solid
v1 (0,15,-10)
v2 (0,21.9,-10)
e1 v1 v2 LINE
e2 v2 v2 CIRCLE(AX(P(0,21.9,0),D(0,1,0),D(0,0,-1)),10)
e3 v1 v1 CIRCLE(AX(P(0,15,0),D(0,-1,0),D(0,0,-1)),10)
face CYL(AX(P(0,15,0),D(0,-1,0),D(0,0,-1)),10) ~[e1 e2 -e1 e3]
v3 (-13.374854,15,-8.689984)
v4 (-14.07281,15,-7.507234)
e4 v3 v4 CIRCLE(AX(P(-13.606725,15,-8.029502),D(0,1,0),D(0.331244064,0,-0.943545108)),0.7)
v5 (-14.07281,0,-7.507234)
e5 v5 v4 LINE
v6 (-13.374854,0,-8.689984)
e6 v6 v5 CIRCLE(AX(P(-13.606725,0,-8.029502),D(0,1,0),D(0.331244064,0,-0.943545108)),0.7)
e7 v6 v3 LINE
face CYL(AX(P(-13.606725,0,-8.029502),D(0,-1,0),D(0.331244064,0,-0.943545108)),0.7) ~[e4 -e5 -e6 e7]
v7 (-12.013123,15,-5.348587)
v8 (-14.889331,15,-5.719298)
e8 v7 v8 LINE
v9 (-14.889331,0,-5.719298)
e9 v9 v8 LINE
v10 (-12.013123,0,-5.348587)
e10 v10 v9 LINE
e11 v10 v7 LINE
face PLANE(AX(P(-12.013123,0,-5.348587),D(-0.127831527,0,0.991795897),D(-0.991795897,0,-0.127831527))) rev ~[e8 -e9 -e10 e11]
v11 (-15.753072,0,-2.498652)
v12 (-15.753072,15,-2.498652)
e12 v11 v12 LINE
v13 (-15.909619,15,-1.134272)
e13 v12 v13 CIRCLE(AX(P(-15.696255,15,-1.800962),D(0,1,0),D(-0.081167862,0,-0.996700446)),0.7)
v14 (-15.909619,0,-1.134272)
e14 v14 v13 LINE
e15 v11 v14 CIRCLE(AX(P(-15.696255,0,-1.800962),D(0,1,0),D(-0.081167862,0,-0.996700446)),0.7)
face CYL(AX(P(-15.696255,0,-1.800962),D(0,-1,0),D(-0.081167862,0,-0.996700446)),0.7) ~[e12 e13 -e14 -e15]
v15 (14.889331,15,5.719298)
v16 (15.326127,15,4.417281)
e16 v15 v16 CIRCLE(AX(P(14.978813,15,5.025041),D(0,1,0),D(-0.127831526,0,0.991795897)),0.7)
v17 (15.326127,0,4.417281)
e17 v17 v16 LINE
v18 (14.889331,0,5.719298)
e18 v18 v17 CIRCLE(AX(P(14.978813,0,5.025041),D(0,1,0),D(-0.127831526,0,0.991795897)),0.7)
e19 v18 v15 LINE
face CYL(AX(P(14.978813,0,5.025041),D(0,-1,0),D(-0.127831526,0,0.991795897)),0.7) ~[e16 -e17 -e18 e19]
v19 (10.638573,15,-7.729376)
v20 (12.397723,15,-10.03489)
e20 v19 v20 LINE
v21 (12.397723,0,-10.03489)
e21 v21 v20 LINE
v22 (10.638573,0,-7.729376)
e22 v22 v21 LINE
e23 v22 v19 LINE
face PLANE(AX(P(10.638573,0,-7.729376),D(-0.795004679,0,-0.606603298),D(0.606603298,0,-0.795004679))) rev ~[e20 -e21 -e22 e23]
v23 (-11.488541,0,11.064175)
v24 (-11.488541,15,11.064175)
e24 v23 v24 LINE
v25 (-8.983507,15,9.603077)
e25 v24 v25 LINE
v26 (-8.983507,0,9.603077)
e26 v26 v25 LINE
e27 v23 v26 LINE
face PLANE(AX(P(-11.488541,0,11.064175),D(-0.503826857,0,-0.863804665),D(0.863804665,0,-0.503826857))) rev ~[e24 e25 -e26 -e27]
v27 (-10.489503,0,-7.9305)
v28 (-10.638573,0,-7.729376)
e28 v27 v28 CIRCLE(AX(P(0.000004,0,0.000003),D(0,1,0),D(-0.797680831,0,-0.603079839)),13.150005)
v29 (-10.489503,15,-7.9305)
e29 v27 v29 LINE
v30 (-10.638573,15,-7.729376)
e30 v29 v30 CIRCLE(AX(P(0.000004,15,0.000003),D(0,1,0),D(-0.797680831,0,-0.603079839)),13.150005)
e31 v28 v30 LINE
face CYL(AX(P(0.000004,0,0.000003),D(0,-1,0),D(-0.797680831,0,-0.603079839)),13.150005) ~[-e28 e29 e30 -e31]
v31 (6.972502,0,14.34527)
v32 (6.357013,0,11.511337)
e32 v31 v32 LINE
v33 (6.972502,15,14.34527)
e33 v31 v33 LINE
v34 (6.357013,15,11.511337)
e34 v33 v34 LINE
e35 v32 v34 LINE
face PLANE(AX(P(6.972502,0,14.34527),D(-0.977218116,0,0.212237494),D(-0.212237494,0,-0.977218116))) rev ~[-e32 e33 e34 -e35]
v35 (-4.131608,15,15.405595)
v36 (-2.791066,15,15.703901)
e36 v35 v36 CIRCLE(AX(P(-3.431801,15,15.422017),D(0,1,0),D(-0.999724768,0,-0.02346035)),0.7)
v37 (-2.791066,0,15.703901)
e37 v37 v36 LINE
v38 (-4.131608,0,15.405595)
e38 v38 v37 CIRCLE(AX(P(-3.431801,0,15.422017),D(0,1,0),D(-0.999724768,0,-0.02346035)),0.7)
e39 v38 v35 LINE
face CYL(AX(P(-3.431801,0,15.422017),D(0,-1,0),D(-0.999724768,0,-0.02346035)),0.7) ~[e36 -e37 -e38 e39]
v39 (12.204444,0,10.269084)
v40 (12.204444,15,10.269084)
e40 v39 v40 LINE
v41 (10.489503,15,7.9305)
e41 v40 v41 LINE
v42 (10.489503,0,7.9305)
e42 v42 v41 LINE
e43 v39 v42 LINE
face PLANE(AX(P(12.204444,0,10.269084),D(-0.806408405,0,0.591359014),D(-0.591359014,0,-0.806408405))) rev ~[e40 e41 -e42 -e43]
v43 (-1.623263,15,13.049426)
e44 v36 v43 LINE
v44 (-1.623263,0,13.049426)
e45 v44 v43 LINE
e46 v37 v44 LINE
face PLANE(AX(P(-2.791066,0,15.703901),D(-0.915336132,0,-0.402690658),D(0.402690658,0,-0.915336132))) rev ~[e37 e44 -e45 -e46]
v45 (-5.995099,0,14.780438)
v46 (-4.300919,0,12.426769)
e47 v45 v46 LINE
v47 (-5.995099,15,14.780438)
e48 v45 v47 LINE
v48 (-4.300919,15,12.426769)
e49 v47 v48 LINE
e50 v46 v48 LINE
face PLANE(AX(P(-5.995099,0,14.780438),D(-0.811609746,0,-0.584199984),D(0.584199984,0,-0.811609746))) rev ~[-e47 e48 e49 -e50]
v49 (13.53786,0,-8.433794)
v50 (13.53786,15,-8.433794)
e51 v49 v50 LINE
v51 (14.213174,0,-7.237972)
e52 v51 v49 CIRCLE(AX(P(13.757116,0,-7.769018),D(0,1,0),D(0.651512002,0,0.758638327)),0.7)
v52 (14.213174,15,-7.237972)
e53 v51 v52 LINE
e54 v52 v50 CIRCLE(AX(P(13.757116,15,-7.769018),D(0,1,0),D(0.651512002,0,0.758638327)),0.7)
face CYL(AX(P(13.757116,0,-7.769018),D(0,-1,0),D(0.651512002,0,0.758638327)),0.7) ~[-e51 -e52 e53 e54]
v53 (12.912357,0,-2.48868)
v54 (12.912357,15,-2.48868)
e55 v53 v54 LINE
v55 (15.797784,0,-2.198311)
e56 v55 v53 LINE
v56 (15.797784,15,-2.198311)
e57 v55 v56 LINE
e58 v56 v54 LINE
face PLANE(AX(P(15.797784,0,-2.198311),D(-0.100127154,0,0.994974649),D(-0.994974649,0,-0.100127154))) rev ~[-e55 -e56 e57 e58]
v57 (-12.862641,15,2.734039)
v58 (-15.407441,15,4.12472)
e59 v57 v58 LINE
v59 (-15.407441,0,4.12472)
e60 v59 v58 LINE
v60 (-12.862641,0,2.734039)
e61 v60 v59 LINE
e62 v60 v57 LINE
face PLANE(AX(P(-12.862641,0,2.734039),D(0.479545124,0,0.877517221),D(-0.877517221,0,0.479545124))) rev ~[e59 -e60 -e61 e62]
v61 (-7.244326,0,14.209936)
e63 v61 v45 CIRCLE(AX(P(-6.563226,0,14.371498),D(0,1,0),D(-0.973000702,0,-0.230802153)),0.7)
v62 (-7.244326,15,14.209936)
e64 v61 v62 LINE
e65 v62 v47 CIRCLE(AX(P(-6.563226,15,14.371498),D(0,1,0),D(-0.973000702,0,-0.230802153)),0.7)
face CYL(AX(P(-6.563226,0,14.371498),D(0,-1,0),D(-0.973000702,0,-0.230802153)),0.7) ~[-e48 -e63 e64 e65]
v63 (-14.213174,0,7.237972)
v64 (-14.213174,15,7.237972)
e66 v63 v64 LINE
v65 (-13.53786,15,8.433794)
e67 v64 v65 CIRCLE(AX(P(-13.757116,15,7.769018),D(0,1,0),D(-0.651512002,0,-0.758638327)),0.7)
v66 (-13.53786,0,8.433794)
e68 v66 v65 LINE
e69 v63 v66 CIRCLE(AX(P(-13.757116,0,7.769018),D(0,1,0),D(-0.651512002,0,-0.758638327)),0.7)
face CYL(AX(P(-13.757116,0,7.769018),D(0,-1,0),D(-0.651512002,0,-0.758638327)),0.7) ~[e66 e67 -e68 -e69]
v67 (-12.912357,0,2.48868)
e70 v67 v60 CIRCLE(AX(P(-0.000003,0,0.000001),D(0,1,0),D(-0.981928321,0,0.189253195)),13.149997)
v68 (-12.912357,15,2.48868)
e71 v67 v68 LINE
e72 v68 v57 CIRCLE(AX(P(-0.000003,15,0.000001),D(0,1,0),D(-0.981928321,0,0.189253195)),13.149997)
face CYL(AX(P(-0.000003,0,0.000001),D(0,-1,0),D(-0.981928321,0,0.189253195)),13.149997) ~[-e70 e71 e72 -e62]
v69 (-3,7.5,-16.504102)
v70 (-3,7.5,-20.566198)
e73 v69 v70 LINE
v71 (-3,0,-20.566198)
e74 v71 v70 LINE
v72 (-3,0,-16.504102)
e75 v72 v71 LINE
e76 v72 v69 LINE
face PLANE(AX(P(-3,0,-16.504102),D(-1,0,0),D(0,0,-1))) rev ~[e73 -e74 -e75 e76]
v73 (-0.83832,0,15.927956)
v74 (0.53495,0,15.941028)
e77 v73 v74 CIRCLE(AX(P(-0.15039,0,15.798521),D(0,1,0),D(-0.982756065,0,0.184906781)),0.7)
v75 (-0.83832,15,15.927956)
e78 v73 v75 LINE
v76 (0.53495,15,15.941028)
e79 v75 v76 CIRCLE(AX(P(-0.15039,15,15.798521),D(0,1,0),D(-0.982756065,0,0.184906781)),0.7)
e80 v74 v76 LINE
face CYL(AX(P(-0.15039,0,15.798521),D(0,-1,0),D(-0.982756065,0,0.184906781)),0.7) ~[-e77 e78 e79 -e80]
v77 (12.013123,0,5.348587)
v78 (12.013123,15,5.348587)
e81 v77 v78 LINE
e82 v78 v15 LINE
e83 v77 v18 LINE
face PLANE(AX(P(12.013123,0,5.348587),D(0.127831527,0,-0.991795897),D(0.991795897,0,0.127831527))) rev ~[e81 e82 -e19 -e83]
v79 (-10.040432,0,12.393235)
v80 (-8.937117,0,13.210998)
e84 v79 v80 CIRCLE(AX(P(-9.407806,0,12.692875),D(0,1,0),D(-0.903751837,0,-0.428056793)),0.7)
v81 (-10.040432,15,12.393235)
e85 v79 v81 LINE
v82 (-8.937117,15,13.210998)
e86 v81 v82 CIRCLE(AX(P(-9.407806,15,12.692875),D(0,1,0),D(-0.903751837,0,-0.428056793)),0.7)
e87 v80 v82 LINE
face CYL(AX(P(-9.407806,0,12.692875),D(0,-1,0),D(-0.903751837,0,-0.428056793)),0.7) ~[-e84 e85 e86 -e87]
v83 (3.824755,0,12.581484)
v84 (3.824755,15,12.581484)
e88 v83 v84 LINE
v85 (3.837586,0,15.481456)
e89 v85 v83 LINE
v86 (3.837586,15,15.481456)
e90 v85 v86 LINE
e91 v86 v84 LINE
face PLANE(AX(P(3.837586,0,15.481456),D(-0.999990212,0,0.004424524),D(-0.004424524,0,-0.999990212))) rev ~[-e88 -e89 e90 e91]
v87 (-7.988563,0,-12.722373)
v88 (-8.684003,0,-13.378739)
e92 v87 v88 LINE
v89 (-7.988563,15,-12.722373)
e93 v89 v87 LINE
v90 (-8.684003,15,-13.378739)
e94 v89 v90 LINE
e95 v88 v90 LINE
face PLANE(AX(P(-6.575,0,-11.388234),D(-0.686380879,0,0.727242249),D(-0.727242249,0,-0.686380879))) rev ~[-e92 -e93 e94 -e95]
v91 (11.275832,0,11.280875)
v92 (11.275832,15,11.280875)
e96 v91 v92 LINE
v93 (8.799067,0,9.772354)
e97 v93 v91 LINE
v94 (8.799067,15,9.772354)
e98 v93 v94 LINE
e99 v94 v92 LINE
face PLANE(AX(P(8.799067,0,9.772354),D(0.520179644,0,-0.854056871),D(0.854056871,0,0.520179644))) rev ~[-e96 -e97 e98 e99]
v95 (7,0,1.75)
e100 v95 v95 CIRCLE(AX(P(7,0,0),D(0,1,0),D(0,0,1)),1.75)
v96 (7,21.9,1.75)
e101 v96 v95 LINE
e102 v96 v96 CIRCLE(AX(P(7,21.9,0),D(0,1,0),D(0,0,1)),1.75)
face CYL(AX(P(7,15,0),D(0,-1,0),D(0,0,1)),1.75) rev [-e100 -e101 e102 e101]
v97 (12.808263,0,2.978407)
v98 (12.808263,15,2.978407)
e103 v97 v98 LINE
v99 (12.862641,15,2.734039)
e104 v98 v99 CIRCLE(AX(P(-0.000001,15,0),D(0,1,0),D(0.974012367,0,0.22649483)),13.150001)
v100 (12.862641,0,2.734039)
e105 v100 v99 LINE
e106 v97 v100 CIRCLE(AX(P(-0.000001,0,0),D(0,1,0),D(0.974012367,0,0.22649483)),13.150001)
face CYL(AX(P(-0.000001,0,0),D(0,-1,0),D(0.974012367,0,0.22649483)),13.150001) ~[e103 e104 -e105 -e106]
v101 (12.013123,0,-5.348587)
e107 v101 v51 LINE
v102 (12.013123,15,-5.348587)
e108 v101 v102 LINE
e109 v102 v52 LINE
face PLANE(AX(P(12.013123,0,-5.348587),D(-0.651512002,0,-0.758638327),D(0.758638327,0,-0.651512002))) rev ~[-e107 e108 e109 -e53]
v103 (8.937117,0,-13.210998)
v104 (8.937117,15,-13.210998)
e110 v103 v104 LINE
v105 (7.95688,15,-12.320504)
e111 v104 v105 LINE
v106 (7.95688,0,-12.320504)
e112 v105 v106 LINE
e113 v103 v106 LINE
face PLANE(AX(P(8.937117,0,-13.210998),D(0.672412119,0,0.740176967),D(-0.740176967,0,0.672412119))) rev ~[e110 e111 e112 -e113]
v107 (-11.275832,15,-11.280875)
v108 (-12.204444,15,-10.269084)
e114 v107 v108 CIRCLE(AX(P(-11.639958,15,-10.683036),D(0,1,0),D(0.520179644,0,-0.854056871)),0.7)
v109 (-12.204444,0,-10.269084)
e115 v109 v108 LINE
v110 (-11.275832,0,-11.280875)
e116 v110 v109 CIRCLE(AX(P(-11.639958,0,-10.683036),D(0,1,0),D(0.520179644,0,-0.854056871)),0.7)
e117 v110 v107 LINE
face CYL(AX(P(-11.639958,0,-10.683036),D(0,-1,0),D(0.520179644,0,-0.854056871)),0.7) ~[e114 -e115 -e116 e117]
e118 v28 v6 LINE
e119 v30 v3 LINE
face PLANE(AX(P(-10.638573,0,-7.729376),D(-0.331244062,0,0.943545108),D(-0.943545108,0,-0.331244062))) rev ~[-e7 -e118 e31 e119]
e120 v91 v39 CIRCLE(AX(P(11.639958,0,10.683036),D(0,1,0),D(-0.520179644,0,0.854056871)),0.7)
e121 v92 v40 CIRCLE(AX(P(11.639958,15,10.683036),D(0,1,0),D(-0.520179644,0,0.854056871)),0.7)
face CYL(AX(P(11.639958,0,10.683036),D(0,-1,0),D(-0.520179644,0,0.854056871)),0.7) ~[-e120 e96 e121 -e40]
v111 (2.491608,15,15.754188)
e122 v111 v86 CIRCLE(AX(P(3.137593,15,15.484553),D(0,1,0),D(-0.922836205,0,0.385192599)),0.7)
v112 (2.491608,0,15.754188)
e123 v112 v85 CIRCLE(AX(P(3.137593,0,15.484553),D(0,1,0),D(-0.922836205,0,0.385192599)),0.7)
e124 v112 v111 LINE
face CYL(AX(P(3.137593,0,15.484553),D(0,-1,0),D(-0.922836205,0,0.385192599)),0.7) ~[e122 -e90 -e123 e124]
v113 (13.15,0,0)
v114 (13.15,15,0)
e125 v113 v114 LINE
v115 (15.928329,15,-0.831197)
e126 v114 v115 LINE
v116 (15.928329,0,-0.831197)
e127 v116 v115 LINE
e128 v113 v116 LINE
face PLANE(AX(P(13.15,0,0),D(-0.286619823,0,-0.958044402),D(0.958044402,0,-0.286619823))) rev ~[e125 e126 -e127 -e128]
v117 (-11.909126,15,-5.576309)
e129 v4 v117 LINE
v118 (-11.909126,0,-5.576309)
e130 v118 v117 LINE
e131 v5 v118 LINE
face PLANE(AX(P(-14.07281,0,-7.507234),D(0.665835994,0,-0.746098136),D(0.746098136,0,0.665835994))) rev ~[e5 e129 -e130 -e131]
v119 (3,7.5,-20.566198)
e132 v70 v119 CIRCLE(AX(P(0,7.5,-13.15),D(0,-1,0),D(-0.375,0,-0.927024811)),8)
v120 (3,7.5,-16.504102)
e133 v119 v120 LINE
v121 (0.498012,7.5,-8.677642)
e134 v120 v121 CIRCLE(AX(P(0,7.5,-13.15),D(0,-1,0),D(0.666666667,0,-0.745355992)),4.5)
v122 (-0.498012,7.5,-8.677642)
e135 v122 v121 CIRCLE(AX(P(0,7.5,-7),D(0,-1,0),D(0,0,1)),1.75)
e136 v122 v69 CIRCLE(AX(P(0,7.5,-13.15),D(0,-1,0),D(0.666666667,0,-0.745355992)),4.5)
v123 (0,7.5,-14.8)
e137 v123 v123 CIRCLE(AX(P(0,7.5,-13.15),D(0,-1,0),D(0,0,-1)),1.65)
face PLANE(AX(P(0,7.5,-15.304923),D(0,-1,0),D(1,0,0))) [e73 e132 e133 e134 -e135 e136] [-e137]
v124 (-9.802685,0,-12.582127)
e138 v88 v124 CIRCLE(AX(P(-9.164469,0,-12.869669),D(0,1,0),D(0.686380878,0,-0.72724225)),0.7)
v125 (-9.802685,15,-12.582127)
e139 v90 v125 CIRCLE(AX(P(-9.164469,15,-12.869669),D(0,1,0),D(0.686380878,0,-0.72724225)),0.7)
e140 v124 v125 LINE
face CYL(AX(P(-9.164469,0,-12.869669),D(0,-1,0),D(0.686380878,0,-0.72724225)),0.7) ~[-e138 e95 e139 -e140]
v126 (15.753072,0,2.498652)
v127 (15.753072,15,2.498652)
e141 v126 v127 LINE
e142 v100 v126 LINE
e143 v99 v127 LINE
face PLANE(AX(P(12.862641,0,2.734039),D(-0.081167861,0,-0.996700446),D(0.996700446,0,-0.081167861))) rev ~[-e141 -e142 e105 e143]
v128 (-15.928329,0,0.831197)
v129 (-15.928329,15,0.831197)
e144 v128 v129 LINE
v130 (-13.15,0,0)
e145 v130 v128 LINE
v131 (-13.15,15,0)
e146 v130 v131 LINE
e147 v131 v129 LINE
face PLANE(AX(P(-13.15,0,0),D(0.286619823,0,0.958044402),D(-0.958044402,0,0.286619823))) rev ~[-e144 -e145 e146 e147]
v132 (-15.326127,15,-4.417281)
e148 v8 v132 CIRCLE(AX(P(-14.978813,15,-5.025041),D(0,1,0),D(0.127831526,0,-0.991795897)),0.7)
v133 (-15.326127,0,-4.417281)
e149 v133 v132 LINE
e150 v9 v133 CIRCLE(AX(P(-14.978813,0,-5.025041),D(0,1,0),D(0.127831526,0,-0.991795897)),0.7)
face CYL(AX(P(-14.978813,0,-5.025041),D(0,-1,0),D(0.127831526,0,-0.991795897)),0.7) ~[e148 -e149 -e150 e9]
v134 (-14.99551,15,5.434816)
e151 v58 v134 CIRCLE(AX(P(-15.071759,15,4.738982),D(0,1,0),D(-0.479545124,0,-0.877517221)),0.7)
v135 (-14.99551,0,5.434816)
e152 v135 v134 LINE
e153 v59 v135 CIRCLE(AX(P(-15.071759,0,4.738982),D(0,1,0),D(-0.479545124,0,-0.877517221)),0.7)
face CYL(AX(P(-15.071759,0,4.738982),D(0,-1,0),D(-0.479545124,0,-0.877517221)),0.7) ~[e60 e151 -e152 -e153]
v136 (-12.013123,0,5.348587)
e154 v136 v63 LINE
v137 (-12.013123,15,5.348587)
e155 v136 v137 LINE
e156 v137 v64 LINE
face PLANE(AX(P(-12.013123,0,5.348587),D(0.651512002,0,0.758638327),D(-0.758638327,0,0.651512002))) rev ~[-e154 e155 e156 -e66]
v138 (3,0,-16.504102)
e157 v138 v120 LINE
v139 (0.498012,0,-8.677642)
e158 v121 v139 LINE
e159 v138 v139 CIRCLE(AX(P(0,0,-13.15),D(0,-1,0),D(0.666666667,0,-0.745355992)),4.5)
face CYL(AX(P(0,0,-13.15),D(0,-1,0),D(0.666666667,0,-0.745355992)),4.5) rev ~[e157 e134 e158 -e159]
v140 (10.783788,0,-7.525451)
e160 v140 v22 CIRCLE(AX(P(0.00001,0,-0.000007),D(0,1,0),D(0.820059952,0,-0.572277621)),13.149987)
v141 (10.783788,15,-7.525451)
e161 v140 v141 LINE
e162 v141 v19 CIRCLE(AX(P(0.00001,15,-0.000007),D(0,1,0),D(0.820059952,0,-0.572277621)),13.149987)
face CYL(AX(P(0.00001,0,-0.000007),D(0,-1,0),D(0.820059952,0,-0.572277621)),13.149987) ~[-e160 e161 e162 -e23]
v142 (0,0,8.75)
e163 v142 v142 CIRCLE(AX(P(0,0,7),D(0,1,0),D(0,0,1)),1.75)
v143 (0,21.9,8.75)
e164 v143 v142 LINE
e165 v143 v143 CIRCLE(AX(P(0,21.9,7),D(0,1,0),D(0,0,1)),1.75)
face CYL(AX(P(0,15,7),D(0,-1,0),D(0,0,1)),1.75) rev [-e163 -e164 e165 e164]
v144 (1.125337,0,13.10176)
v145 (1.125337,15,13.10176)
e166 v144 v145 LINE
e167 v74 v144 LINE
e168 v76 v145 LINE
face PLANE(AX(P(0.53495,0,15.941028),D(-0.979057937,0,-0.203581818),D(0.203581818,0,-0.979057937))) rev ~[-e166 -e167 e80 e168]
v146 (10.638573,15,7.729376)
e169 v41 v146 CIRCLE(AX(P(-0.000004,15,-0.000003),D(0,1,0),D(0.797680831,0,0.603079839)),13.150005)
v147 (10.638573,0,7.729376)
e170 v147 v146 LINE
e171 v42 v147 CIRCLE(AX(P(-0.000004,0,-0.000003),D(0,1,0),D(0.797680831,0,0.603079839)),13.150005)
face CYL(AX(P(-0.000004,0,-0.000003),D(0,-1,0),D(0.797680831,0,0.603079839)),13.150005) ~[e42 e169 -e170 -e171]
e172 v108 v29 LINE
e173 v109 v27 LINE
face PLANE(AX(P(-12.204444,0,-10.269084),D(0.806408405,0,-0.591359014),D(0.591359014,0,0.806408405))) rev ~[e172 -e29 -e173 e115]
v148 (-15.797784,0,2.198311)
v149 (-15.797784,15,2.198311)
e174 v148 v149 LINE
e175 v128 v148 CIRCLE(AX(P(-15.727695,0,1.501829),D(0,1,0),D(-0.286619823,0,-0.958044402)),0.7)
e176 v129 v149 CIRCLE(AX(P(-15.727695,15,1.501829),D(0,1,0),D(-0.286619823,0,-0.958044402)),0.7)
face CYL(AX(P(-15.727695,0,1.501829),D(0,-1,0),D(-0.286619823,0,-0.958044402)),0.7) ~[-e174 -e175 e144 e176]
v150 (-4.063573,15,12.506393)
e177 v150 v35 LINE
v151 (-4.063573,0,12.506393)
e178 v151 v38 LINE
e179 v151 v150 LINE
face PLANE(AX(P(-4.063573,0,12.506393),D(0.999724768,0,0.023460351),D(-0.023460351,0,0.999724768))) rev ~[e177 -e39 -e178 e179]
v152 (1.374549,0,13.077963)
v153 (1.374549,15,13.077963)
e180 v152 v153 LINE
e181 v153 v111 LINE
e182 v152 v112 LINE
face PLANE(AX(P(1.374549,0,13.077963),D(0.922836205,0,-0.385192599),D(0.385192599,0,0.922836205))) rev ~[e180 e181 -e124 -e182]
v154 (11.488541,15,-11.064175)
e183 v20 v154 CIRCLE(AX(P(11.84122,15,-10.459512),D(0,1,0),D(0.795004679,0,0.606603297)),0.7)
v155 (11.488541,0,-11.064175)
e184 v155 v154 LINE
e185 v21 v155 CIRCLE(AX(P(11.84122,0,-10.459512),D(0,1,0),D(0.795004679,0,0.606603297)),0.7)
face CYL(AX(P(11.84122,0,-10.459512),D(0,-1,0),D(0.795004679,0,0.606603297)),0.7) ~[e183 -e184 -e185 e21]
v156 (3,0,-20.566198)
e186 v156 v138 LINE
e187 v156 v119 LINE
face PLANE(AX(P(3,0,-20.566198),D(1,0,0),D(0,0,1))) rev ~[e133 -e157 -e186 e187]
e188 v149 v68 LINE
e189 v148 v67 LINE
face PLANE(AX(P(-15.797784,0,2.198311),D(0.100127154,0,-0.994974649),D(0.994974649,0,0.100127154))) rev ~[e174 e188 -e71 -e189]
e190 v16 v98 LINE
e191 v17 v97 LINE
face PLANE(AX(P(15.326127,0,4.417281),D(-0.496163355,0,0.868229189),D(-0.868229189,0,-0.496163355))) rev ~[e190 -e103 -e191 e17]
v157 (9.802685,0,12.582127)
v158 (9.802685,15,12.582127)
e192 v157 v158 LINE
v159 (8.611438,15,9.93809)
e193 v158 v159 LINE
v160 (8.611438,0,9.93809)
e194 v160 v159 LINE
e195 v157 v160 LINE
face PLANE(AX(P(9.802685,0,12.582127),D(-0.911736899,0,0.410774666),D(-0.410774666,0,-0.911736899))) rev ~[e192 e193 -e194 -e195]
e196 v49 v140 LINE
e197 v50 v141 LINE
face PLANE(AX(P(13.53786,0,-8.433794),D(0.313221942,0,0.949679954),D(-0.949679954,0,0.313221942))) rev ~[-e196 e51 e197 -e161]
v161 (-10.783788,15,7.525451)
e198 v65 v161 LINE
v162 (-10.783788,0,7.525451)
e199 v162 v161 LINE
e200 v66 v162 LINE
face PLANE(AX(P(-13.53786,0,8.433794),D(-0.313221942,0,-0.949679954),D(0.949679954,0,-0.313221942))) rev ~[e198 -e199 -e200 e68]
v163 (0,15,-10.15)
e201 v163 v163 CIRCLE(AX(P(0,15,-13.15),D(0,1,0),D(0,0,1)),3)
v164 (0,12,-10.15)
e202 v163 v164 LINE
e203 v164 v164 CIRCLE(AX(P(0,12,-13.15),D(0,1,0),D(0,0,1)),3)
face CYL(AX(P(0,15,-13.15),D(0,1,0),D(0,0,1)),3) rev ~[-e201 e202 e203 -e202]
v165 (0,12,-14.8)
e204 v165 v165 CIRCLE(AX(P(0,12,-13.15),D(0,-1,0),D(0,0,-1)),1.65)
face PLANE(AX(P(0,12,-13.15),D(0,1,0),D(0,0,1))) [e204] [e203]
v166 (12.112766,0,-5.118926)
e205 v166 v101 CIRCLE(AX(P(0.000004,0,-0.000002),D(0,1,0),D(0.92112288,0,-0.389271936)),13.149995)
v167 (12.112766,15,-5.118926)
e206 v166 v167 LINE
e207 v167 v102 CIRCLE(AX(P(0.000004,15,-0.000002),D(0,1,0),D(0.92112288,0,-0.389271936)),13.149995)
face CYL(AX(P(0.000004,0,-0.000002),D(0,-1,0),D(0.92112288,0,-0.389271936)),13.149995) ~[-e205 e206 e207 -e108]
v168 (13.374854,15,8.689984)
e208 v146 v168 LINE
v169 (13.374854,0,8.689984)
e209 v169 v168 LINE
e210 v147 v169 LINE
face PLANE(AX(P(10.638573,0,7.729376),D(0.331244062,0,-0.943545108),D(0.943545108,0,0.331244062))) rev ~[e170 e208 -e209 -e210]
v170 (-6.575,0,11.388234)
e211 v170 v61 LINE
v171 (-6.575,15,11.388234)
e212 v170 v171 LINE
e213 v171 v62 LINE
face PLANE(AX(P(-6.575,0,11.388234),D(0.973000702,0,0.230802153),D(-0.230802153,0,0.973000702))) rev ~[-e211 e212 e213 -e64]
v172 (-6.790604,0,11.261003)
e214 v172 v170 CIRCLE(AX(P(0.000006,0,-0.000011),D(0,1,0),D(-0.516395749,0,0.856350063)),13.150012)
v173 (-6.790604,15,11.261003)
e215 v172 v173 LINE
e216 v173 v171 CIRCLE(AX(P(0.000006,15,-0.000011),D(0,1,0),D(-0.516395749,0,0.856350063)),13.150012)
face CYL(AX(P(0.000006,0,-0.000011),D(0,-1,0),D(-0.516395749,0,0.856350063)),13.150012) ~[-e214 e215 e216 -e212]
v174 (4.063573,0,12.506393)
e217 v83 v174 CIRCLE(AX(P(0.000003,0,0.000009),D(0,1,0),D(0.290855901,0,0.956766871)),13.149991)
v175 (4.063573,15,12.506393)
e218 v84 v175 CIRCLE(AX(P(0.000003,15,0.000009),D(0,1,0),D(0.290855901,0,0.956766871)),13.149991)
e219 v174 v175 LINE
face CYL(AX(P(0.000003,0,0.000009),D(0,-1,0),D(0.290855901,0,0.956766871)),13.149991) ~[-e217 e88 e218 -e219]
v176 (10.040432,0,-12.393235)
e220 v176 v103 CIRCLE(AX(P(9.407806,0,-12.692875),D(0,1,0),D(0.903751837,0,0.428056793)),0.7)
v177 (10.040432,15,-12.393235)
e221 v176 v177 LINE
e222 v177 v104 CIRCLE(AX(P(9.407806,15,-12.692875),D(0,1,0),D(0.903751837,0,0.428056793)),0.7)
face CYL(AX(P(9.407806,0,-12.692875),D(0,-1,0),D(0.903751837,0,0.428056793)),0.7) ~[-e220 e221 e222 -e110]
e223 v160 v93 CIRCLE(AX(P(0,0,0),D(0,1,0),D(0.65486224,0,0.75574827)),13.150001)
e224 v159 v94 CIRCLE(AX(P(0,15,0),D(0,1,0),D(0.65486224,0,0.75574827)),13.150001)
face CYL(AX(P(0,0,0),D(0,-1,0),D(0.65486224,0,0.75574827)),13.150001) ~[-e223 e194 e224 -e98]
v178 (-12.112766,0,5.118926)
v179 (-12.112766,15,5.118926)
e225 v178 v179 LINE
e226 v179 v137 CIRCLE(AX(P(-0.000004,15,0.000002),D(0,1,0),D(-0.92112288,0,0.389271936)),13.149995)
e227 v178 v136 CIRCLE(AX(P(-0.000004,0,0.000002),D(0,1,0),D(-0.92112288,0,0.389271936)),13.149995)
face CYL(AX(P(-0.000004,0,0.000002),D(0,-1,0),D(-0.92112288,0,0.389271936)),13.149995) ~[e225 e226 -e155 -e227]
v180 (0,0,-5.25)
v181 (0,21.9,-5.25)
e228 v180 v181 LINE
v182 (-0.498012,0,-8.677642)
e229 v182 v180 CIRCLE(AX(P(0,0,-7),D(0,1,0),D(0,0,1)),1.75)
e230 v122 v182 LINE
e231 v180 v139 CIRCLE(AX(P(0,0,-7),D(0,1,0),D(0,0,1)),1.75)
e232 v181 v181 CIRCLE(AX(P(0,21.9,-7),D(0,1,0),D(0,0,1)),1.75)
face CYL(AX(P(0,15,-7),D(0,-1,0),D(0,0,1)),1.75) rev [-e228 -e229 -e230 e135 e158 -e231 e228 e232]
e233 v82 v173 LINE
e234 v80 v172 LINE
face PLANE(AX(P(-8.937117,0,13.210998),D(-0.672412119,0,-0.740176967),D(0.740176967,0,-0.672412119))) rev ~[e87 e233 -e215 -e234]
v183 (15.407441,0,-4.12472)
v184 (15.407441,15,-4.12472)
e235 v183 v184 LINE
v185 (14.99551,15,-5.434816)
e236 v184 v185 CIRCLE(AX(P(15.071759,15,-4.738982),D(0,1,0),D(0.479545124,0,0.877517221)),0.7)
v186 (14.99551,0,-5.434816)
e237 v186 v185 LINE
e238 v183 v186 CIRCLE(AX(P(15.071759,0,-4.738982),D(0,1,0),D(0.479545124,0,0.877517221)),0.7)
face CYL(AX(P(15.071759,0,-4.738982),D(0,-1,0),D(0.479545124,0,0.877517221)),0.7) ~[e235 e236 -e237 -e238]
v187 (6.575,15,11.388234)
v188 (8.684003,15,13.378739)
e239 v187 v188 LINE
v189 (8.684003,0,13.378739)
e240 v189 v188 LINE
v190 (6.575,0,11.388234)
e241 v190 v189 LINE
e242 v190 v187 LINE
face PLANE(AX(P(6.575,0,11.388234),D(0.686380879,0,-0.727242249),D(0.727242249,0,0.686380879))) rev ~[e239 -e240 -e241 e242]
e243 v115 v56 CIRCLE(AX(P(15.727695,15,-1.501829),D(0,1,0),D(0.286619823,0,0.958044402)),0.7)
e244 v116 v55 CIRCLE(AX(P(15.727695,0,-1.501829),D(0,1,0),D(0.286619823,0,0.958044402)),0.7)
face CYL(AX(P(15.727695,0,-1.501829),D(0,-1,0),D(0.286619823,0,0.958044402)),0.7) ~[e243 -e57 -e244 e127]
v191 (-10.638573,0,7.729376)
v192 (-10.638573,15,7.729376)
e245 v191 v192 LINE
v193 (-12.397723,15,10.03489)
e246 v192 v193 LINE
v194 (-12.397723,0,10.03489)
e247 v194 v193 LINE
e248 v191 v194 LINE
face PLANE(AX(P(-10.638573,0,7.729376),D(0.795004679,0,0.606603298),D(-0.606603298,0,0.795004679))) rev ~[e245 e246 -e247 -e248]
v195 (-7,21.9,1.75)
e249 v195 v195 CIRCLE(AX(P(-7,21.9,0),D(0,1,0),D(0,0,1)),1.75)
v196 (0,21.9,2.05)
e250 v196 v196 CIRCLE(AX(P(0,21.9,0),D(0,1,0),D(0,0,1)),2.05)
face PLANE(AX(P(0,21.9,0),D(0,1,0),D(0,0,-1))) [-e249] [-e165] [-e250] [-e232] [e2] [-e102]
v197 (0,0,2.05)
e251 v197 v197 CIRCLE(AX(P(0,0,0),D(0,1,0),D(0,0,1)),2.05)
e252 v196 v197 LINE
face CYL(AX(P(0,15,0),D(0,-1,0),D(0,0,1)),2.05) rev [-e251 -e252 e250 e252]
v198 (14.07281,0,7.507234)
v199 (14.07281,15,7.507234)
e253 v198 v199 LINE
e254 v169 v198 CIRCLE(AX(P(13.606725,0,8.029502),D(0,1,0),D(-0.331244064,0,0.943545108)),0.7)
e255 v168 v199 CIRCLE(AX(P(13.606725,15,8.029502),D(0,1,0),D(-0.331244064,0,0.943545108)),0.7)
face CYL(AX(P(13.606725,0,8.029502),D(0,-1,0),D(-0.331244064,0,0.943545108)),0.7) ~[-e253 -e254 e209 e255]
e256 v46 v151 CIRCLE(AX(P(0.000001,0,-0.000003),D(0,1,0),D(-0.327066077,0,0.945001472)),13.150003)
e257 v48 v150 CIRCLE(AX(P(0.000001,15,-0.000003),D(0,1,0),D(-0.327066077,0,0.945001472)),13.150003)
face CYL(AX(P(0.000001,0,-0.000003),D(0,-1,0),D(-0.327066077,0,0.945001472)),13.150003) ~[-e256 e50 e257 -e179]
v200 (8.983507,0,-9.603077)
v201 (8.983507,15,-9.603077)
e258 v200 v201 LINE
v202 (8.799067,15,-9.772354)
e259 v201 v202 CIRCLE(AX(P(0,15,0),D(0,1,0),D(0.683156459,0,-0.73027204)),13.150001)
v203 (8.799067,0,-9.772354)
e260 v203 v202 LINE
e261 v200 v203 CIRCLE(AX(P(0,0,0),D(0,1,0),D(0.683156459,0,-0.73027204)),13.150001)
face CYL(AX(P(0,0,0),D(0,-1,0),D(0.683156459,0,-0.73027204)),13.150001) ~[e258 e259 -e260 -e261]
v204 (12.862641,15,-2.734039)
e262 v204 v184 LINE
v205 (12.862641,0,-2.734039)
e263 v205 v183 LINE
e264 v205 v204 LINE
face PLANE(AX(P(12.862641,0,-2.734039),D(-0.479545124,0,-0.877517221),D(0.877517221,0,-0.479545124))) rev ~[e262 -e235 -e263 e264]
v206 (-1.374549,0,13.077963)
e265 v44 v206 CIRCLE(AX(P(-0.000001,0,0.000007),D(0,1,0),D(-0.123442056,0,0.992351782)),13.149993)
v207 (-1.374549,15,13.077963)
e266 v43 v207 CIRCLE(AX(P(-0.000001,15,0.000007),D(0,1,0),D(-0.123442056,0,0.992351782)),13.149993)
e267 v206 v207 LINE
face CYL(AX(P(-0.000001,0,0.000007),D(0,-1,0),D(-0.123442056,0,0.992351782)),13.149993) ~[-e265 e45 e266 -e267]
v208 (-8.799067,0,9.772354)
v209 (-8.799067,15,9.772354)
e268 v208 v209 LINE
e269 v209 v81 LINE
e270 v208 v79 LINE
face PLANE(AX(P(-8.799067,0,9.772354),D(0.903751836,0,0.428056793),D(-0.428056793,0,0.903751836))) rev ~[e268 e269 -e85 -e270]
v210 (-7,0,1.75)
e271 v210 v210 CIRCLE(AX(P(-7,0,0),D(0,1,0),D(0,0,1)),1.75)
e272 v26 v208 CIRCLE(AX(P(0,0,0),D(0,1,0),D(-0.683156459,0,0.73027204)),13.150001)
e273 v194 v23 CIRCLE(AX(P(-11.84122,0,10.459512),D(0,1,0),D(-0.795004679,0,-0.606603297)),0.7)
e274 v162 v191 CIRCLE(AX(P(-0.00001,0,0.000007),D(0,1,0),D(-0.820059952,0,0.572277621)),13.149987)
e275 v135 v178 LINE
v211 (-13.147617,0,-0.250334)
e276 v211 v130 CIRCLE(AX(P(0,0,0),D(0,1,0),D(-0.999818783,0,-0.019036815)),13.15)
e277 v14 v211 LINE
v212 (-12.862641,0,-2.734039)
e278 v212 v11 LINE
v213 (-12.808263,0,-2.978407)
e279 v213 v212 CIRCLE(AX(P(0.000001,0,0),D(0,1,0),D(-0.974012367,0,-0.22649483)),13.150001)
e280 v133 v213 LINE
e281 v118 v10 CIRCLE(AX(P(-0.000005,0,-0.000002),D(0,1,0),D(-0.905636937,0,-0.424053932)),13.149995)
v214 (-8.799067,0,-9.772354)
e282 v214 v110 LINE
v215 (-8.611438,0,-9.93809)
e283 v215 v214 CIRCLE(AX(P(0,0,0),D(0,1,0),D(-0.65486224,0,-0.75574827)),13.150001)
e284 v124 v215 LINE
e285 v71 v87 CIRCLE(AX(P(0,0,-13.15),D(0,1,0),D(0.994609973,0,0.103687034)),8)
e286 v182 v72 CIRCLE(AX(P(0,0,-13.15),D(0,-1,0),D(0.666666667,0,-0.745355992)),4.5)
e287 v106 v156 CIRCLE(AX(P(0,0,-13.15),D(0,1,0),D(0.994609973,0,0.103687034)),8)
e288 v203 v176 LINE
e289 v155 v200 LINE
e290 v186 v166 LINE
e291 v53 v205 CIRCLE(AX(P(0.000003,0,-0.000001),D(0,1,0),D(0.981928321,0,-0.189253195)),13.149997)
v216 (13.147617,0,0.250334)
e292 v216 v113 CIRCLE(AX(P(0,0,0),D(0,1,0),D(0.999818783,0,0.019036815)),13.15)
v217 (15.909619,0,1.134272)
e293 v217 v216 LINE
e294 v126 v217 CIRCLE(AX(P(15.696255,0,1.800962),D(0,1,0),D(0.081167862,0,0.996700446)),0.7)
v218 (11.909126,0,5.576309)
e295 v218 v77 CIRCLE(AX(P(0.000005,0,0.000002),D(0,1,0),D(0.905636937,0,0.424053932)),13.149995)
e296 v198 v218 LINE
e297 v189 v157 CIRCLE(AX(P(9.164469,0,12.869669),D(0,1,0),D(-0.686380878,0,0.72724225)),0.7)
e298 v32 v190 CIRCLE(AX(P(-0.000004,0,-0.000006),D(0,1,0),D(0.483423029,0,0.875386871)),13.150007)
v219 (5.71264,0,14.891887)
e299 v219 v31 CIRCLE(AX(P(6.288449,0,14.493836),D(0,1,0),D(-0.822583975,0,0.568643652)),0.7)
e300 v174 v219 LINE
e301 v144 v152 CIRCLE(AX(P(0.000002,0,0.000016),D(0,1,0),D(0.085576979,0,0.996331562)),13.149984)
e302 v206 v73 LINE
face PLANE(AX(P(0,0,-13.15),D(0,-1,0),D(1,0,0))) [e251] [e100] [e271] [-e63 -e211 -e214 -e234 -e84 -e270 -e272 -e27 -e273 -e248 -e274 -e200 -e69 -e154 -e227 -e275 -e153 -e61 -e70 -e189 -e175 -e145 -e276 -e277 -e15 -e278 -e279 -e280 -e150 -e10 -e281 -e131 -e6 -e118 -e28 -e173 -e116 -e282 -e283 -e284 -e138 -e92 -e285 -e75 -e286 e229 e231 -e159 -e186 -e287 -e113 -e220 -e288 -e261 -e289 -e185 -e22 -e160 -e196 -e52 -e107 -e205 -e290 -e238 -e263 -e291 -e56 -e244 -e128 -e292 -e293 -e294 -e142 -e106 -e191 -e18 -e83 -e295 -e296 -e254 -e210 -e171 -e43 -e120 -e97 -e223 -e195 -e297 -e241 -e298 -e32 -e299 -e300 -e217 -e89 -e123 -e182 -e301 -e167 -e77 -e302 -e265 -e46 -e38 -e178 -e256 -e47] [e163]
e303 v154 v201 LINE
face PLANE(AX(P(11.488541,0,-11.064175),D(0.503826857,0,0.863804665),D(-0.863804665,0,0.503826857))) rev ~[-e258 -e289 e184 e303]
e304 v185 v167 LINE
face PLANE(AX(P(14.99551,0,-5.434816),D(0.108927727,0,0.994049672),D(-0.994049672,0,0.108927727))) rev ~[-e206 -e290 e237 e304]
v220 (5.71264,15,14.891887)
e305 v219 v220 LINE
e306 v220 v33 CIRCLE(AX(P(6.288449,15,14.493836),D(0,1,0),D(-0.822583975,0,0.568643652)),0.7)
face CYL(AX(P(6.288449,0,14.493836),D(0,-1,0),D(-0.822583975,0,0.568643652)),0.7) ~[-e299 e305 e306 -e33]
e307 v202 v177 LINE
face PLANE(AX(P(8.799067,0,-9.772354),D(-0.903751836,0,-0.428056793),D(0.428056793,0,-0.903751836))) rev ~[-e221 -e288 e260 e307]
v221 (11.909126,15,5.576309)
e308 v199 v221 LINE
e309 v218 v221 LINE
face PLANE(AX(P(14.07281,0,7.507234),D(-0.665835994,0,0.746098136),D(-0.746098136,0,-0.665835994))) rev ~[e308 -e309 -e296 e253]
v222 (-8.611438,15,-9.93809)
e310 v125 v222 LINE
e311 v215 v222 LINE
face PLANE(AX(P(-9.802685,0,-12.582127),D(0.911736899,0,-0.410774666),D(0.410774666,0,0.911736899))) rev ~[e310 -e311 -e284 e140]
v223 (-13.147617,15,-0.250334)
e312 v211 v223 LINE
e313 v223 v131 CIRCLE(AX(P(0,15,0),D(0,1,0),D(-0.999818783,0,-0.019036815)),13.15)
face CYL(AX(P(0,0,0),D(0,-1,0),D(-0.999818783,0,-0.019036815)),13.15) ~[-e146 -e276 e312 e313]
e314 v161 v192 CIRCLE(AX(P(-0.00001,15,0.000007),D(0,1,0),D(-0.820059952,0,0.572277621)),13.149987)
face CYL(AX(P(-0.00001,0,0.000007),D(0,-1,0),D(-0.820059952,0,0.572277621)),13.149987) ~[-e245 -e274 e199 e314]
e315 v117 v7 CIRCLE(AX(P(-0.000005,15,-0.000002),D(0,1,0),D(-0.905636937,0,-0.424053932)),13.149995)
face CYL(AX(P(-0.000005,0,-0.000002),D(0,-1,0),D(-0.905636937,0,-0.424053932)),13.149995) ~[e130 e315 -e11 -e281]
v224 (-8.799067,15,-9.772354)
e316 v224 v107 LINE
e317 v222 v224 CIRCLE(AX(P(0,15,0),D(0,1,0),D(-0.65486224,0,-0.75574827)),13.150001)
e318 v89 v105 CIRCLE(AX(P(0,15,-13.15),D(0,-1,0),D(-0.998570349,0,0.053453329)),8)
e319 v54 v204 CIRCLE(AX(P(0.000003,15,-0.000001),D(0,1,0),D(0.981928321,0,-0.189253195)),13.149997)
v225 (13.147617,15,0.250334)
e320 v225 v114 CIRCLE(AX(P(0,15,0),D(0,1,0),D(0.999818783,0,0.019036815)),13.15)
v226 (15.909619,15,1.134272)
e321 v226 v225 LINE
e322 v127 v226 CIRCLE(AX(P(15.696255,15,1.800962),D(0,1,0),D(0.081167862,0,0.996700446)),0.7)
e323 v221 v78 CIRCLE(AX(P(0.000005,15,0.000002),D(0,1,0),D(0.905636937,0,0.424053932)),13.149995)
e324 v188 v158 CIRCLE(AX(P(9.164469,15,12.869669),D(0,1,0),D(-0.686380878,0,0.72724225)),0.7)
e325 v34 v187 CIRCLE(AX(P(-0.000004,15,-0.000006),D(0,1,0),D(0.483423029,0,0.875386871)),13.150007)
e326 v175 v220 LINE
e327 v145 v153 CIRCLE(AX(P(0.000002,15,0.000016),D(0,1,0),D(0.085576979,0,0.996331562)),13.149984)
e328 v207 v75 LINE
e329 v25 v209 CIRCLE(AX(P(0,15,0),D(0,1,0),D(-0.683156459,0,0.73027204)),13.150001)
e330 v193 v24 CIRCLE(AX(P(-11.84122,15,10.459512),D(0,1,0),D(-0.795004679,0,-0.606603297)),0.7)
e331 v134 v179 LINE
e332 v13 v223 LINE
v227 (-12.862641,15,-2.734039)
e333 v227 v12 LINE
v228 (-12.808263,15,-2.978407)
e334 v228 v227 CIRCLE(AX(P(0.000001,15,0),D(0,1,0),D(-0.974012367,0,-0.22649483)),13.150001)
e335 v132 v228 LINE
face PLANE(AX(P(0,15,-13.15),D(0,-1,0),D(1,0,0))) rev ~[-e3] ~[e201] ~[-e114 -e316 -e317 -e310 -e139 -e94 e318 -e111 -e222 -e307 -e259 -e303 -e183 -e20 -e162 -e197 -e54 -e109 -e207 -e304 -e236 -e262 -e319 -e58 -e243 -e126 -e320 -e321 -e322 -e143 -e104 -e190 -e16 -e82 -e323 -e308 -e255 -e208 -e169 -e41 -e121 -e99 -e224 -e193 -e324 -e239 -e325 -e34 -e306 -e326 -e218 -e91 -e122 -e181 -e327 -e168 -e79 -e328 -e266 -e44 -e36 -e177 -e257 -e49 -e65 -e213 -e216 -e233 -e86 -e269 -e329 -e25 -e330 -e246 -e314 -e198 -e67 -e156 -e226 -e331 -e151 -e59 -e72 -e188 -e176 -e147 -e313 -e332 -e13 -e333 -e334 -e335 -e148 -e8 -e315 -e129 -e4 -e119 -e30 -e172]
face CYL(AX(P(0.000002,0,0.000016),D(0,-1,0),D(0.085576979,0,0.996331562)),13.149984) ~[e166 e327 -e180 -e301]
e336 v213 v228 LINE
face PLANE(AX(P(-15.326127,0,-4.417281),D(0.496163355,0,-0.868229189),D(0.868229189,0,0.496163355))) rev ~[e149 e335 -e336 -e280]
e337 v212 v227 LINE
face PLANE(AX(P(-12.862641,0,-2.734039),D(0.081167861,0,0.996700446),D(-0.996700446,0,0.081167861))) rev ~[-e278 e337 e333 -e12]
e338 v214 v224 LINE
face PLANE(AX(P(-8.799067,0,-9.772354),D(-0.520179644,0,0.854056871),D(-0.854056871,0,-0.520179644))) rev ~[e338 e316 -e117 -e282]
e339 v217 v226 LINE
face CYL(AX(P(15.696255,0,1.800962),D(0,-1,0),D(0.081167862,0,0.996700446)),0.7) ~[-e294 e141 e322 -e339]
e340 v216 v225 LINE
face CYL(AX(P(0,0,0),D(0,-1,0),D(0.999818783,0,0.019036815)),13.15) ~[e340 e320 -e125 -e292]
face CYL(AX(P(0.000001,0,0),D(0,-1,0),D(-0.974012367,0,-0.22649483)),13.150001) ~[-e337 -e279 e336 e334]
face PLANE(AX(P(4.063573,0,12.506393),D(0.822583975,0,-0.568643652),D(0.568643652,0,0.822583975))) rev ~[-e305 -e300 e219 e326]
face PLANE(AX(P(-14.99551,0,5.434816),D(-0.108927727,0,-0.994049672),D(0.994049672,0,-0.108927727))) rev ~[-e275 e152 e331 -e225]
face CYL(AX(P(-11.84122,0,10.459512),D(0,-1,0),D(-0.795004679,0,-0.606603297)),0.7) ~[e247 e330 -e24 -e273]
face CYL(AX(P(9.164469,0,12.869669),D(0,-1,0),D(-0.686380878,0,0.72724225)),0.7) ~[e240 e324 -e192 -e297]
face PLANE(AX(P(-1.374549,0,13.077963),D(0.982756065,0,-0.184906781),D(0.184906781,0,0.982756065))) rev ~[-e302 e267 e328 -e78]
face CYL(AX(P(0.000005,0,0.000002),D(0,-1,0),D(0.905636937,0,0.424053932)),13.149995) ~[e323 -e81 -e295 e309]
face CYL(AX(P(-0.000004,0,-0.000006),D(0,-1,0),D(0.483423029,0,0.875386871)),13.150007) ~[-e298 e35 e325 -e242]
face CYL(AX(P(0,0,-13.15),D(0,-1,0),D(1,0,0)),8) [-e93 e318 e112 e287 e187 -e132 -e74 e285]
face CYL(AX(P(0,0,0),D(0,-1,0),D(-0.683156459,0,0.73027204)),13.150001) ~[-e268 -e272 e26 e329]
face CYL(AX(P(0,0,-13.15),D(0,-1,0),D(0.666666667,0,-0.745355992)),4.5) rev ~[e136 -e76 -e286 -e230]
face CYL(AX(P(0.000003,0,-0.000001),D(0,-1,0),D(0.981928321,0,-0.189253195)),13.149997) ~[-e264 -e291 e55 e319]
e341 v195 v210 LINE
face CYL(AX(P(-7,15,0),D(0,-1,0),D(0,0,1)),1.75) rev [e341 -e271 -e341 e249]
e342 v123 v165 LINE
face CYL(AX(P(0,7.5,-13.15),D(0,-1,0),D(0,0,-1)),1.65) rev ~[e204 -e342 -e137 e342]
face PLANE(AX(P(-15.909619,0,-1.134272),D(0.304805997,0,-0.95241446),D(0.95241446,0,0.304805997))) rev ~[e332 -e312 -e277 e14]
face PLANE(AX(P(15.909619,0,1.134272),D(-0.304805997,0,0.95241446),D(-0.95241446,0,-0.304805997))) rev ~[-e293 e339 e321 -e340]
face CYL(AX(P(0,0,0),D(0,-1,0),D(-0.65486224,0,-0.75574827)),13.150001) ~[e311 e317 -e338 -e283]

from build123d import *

# Parameters (mm, degrees)
SKETCH_1_R          = 2.05
SKETCH_1_R_2        = 1.75
EXTRUDE_1_DEPTH     = 15
SKETCH_2_R          = 10
SKETCH_2_R_2        = 1.75
SKETCH_2_R_3        = 2.05
EXTRUDE_2_DEPTH     = 6.9
SKETCH_3_R          = 8
SKETCH_3_R_2        = 1.75
EXTRUDE_3_DEPTH     = 15
CUT_EXTRUDE_1_DEPTH = 7.5
SKETCH_5_R          = 1.65
CUT_EXTRUDE_2_DEPTH = 7.5
SKETCH_6_R          = 3
CUT_EXTRUDE_3_DEPTH = 3


with BuildPart() as part:
    # 草图1 → 凸台-拉伸1 (new body)
    with BuildSketch(Plane(origin=(0, 0, 0), x_dir=(1, 0, 0), z_dir=(0, 1, 0))):
        with BuildLine():
            Line((13.15, 0), (15.928328767, 0.831197488))
            ThreePointArc((15.928328767, 0.831197488), (16.42452517, 1.568368494), (15.797783898, 2.198310824))
            Line((15.797783898, 2.198310824), (12.912357414, 2.48867957))
            ThreePointArc((12.912357414, 2.48867957), (12.888083079, 2.611477465), (12.86264095, 2.734038734))
            Line((12.86264095, 2.734038734), (15.407440892, 4.124719594))
            ThreePointArc((15.407440892, 4.124719594), (15.739527743, 4.948946678), (14.995509896, 5.43481642))
            Line((14.995509896, 5.43481642), (12.112765847, 5.118926013))
            ThreePointArc((12.112765847, 5.118926013), (12.063490846, 5.233993562), (12.013122768, 5.348586856))
            Line((12.013122768, 5.348586856), (14.213173917, 7.237971662))
            ThreePointArc((14.213173917, 7.237971662), (14.366637427, 8.113232145), (13.537860156, 8.433794459))
            Line((13.537860156, 8.433794459), (10.783788289, 7.525450826))
            ThreePointArc((10.783788289, 7.525450826), (10.711666177, 7.627759024), (10.638573476, 7.729376068))
            Line((10.638573476, 7.729376068), (12.397723039, 10.034889636))
            ThreePointArc((12.397723039, 10.034889636), (12.365856116, 10.922930435), (11.488540964, 11.06417521))
            Line((11.488540964, 11.06417521), (8.983507437, 9.603077326))
            ThreePointArc((8.983507437, 9.603077326), (8.891690295, 9.688154814), (8.799067474, 9.772354455))
            Line((8.799067474, 9.772354455), (10.040432174, 12.393234781))
            ThreePointArc((10.040432174, 12.393234781), (9.824627556, 13.255244252), (8.937117405, 13.210998413))
            Line((8.937117405, 13.210998413), (6.790604202, 11.261003267))
            ThreePointArc((6.790604202, 11.261003267), (6.68310488, 11.32513175), (6.575, 11.38823406))
            Line((6.575, 11.38823406), (7.244326243, 14.209936096))
            ThreePointArc((7.244326243, 14.209936096), (6.854015627, 15.008240289), (5.99509893, 14.780437591))
            Line((5.99509893, 14.780437591), (4.300918978, 12.426769329))
            ThreePointArc((4.300918978, 12.426769329), (4.182435713, 12.467146085), (4.063573476, 12.506393189))
            Line((4.063573476, 12.506393189), (4.131608494, 15.405595017))
            ThreePointArc((4.131608494, 15.405595017), (3.583850326, 16.105304208), (2.791065864, 15.703900723))
            Line((2.791065864, 15.703900723), (1.623262957, 13.04942594))
            ThreePointArc((1.623262957, 13.04942594), (1.498974036, 13.064286312), (1.374549292, 13.077962924))
            Line((1.374549292, 13.077962924), (0.838319627, 15.927955511))
            ThreePointArc((0.838319627, 15.927955511), (0.157053569, 16.498489051), (-0.534950174, 15.941028037))
            Line((-0.534950174, 15.941028037), (-1.125337445, 13.10176002))
            ThreePointArc((-1.125337445, 13.10176002), (-1.25, 13.090454538), (-1.374549292, 13.077962924))
            Line((-1.374549292, 13.077962924), (-2.49160783, 15.754187919))
            ThreePointArc((-2.49160783, 15.754187919), (-3.276607183, 16.170610754), (-3.837586321, 15.481455933))
            Line((-3.837586321, 15.481455933), (-3.8247552, 12.581484318))
            ThreePointArc((-3.8247552, 12.581484318), (-3.944343037, 12.544507085), (-4.063573476, 12.506393189))
            Line((-4.063573476, 12.506393189), (-5.712640068, 14.891886718))
            ThreePointArc((-5.712640068, 14.891886718), (-6.567064478, 15.135999172), (-6.972501532, 14.345269916))
            Line((-6.972501532, 14.345269916), (-6.3570128, 11.511337379))
            ThreePointArc((-6.3570128, 11.511337379), (-6.466299357, 11.450304477), (-6.575, 11.38823406))
            Line((-6.575, 11.38823406), (-8.684002523, 13.378738608))
            ThreePointArc((-8.684002523, 13.378738608), (-9.570509543, 13.439871795), (-9.802684968, 12.582126767))
            Line((-9.802684968, 12.582126767), (-8.611438437, 9.938089759))
            ThreePointArc((-8.611438437, 9.938089759), (-8.705647366, 9.85566862), (-8.799067474, 9.772354455))
            Line((-8.799067474, 9.772354455), (-11.275832398, 11.280875422))
            ThreePointArc((-11.275832398, 11.280875422), (-12.155677416, 11.15635753), (-12.204444033, 10.269084303))
            Line((-12.204444033, 10.269084303), (-10.489502891, 7.930499928))
            ThreePointArc((-10.489502891, 7.930499928), (-10.564516811, 7.83029275), (-10.638573476, 7.729376068))
            Line((-10.638573476, 7.729376068), (-13.374854289, 8.689983849))
            ThreePointArc((-13.374854289, 8.689983849), (-14.209583858, 8.385256906), (-14.072810329, 7.507233578))
            Line((-14.072810329, 7.507233578), (-11.909125735, 5.576309195))
            ThreePointArc((-11.909125735, 5.576309195), (-11.961666177, 5.462695514), (-12.013122768, 5.348586856))
            Line((-12.013122768, 5.348586856), (-14.889330869, 5.719298283))
            ThreePointArc((-14.889330869, 5.719298283), (-15.642463299, 5.247680319), (-15.326127286, 4.417280723))
            Line((-15.326127286, 4.417280723), (-12.808262637, 2.978406992))
            ThreePointArc((-12.808262637, 2.978406992), (-12.836033332, 2.856352271), (-12.86264095, 2.734038734))
            Line((-12.86264095, 2.734038734), (-15.753072242, 2.498651937))
            ThreePointArc((-15.753072242, 2.498651937), (-16.391692033, 1.88075492), (-15.909618937, 1.134271503))
            Line((-15.909618937, 1.134271503), (-13.147617002, 0.250334112))
            ThreePointArc((-13.147617002, 0.250334112), (-13.149404237, 0.125172727), (-13.15, 0))
            Line((-13.15, 0), (-15.928328767, -0.831197488))
            ThreePointArc((-15.928328767, -0.831197488), (-16.42452517, -1.568368494), (-15.797783898, -2.198310824))
            Line((-15.797783898, -2.198310824), (-12.912357414, -2.48867957))
            ThreePointArc((-12.912357414, -2.48867957), (-12.888083079, -2.611477465), (-12.86264095, -2.734038734))
            Line((-12.86264095, -2.734038734), (-15.407440892, -4.124719594))
            ThreePointArc((-15.407440892, -4.124719594), (-15.739527743, -4.948946678), (-14.995509896, -5.43481642))
            Line((-14.995509896, -5.43481642), (-12.112765847, -5.118926013))
            ThreePointArc((-12.112765847, -5.118926013), (-12.063490846, -5.233993562), (-12.013122768, -5.348586856))
            Line((-12.013122768, -5.348586856), (-14.213173917, -7.237971662))
            ThreePointArc((-14.213173917, -7.237971662), (-14.366637427, -8.113232145), (-13.537860156, -8.433794459))
            Line((-13.537860156, -8.433794459), (-10.783788289, -7.525450826))
            ThreePointArc((-10.783788289, -7.525450826), (-10.711666177, -7.627759024), (-10.638573476, -7.729376068))
            Line((-10.638573476, -7.729376068), (-12.397723039, -10.034889636))
            ThreePointArc((-12.397723039, -10.034889636), (-12.365856116, -10.922930435), (-11.488540964, -11.06417521))
            Line((-11.488540964, -11.06417521), (-8.983507437, -9.603077326))
            ThreePointArc((-8.983507437, -9.603077326), (-8.891690295, -9.688154814), (-8.799067474, -9.772354455))
            Line((-8.799067474, -9.772354455), (-10.040432174, -12.393234781))
            ThreePointArc((-10.040432174, -12.393234781), (-9.824627556, -13.255244252), (-8.937117405, -13.210998413))
            Line((-8.937117405, -13.210998413), (-6.790604202, -11.261003267))
            ThreePointArc((-6.790604202, -11.261003267), (-6.68310488, -11.32513175), (-6.575, -11.38823406))
            Line((-6.575, -11.38823406), (-7.244326243, -14.209936096))
            ThreePointArc((-7.244326243, -14.209936096), (-6.854015627, -15.008240289), (-5.99509893, -14.780437591))
            Line((-5.99509893, -14.780437591), (-4.300918978, -12.426769329))
            ThreePointArc((-4.300918978, -12.426769329), (-4.182435713, -12.467146085), (-4.063573476, -12.506393189))
            Line((-4.063573476, -12.506393189), (-4.131608494, -15.405595017))
            ThreePointArc((-4.131608494, -15.405595017), (-3.583850326, -16.105304208), (-2.791065864, -15.703900723))
            Line((-2.791065864, -15.703900723), (-1.623262957, -13.04942594))
            ThreePointArc((-1.623262957, -13.04942594), (-1.498974036, -13.064286312), (-1.374549292, -13.077962924))
            Line((-1.374549292, -13.077962924), (-0.838319627, -15.927955511))
            ThreePointArc((-0.838319627, -15.927955511), (-0.157053569, -16.498489051), (0.534950174, -15.941028037))
            Line((0.534950174, -15.941028037), (1.125337445, -13.10176002))
            ThreePointArc((1.125337445, -13.10176002), (1.25, -13.090454538), (1.374549292, -13.077962924))
            Line((1.374549292, -13.077962924), (2.49160783, -15.754187919))
            ThreePointArc((2.49160783, -15.754187919), (3.276607183, -16.170610754), (3.837586321, -15.481455933))
            Line((3.837586321, -15.481455933), (3.8247552, -12.581484318))
            ThreePointArc((3.8247552, -12.581484318), (3.944343037, -12.544507085), (4.063573476, -12.506393189))
            Line((4.063573476, -12.506393189), (5.712640068, -14.891886718))
            ThreePointArc((5.712640068, -14.891886718), (6.567064478, -15.135999172), (6.972501532, -14.345269916))
            Line((6.972501532, -14.345269916), (6.3570128, -11.511337379))
            ThreePointArc((6.3570128, -11.511337379), (6.466299357, -11.450304477), (6.575, -11.38823406))
            Line((6.575, -11.38823406), (8.684002523, -13.378738608))
            ThreePointArc((8.684002523, -13.378738608), (9.570509543, -13.439871795), (9.802684968, -12.582126767))
            Line((9.802684968, -12.582126767), (8.611438437, -9.938089759))
            ThreePointArc((8.611438437, -9.938089759), (8.705647366, -9.85566862), (8.799067474, -9.772354455))
            Line((8.799067474, -9.772354455), (11.275832398, -11.280875422))
            ThreePointArc((11.275832398, -11.280875422), (12.155677416, -11.15635753), (12.204444033, -10.269084303))
            Line((12.204444033, -10.269084303), (10.489502891, -7.930499928))
            ThreePointArc((10.489502891, -7.930499928), (10.564516811, -7.83029275), (10.638573476, -7.729376068))
            Line((10.638573476, -7.729376068), (13.374854289, -8.689983849))
            ThreePointArc((13.374854289, -8.689983849), (14.209583858, -8.385256906), (14.072810329, -7.507233578))
            Line((14.072810329, -7.507233578), (11.909125735, -5.576309195))
            ThreePointArc((11.909125735, -5.576309195), (11.961666177, -5.462695514), (12.013122768, -5.348586856))
            Line((12.013122768, -5.348586856), (14.889330869, -5.719298283))
            ThreePointArc((14.889330869, -5.719298283), (15.642463299, -5.247680319), (15.326127286, -4.417280723))
            Line((15.326127286, -4.417280723), (12.808262637, -2.978406992))
            ThreePointArc((12.808262637, -2.978406992), (12.836033332, -2.856352271), (12.86264095, -2.734038734))
            Line((12.86264095, -2.734038734), (15.753072242, -2.498651937))
            ThreePointArc((15.753072242, -2.498651937), (16.391692033, -1.88075492), (15.909618937, -1.134271503))
            Line((15.909618937, -1.134271503), (13.147617002, -0.250334112))
            ThreePointArc((13.147617002, -0.250334112), (13.149404237, -0.125172727), (13.15, 0))
        make_face()
        with Locations(Location((0, 0, 0), (0, 0, 270))):
            Circle(SKETCH_1_R, mode=Mode.SUBTRACT)
        with Locations(Location((0, 7, 0), (0, 0, 270))):
            Circle(SKETCH_1_R_2, mode=Mode.SUBTRACT)
        with Locations(Location((7, 0, 0), (0, 0, 270))):
            Circle(SKETCH_1_R_2, mode=Mode.SUBTRACT)
        with Locations(Location((0, -7, 0), (0, 0, 270))):
            Circle(SKETCH_1_R_2, mode=Mode.SUBTRACT)
        with Locations(Location((-7, 0, 0), (0, 0, 270))):
            Circle(SKETCH_1_R_2, mode=Mode.SUBTRACT)
    extrude(amount=EXTRUDE_1_DEPTH)

    # 草图2 → 凸台-拉伸2 (add)
    with BuildSketch(Plane(origin=(0, 15, 0), x_dir=(1, 0, 0), z_dir=(0, 1, 0))):
        with Locations(Location((0, 0, 0), (0, 0, 90))):
            Circle(SKETCH_2_R)
        with Locations(Location((0, -7, 0), (0, 0, 270))):
            Circle(SKETCH_2_R_2, mode=Mode.SUBTRACT)
        with Locations(Location((7, 0, 0), (0, 0, 270))):
            Circle(SKETCH_2_R_2, mode=Mode.SUBTRACT)
        with Locations(Location((0, 7, 0), (0, 0, 270))):
            Circle(SKETCH_2_R_2, mode=Mode.SUBTRACT)
        with Locations(Location((0, 0, 0), (0, 0, 270))):
            Circle(SKETCH_2_R_3, mode=Mode.SUBTRACT)
        with Locations(Location((-7, 0, 0), (0, 0, 270))):
            Circle(SKETCH_2_R_2, mode=Mode.SUBTRACT)
    extrude(amount=EXTRUDE_2_DEPTH)

    # 草图3 → 凸台-拉伸3 (add)
    with BuildSketch(Plane.XZ):
        with Locations((0, -13.15)):
            Circle(SKETCH_3_R)
        with Locations(Location((0, -7, 0), (0, 0, 90))):
            Circle(SKETCH_3_R_2, mode=Mode.SUBTRACT)
    extrude(amount=-EXTRUDE_3_DEPTH)

    # 草图4 → 切除-拉伸1 (cut)
    with BuildSketch(Plane.XZ):
        with BuildLine():
            Line((-3, -16.504101966), (-3, -20.566198487))
            ThreePointArc((-3, -20.566198487), (0, -21.15), (3, -20.566198487))
            Line((3, -20.566198487), (3, -16.504101966))
            ThreePointArc((3, -16.504101966), (0, -8.65), (-3, -16.504101966))
        make_face()
    extrude(amount=-CUT_EXTRUDE_1_DEPTH, mode=Mode.SUBTRACT)

    # 草图5 → 切除-拉伸2 (cut)
    with BuildSketch(Plane.XZ.offset(-7.5)):
        with Locations(Location((0, -13.15, 0), (0, 0, 270))):
            Circle(SKETCH_5_R)
    extrude(amount=-CUT_EXTRUDE_2_DEPTH, mode=Mode.SUBTRACT)

    # 草图6 → 切除-拉伸3 (cut)
    with BuildSketch(Plane(origin=(0, 15, 0), x_dir=(1, 0, 0), z_dir=(0, 1, 0))):
        with Locations(Location((0, 13.15, 0), (0, 0, 270))):
            Circle(SKETCH_6_R)
    extrude(amount=-CUT_EXTRUDE_3_DEPTH, mode=Mode.SUBTRACT)


solid = part.part
